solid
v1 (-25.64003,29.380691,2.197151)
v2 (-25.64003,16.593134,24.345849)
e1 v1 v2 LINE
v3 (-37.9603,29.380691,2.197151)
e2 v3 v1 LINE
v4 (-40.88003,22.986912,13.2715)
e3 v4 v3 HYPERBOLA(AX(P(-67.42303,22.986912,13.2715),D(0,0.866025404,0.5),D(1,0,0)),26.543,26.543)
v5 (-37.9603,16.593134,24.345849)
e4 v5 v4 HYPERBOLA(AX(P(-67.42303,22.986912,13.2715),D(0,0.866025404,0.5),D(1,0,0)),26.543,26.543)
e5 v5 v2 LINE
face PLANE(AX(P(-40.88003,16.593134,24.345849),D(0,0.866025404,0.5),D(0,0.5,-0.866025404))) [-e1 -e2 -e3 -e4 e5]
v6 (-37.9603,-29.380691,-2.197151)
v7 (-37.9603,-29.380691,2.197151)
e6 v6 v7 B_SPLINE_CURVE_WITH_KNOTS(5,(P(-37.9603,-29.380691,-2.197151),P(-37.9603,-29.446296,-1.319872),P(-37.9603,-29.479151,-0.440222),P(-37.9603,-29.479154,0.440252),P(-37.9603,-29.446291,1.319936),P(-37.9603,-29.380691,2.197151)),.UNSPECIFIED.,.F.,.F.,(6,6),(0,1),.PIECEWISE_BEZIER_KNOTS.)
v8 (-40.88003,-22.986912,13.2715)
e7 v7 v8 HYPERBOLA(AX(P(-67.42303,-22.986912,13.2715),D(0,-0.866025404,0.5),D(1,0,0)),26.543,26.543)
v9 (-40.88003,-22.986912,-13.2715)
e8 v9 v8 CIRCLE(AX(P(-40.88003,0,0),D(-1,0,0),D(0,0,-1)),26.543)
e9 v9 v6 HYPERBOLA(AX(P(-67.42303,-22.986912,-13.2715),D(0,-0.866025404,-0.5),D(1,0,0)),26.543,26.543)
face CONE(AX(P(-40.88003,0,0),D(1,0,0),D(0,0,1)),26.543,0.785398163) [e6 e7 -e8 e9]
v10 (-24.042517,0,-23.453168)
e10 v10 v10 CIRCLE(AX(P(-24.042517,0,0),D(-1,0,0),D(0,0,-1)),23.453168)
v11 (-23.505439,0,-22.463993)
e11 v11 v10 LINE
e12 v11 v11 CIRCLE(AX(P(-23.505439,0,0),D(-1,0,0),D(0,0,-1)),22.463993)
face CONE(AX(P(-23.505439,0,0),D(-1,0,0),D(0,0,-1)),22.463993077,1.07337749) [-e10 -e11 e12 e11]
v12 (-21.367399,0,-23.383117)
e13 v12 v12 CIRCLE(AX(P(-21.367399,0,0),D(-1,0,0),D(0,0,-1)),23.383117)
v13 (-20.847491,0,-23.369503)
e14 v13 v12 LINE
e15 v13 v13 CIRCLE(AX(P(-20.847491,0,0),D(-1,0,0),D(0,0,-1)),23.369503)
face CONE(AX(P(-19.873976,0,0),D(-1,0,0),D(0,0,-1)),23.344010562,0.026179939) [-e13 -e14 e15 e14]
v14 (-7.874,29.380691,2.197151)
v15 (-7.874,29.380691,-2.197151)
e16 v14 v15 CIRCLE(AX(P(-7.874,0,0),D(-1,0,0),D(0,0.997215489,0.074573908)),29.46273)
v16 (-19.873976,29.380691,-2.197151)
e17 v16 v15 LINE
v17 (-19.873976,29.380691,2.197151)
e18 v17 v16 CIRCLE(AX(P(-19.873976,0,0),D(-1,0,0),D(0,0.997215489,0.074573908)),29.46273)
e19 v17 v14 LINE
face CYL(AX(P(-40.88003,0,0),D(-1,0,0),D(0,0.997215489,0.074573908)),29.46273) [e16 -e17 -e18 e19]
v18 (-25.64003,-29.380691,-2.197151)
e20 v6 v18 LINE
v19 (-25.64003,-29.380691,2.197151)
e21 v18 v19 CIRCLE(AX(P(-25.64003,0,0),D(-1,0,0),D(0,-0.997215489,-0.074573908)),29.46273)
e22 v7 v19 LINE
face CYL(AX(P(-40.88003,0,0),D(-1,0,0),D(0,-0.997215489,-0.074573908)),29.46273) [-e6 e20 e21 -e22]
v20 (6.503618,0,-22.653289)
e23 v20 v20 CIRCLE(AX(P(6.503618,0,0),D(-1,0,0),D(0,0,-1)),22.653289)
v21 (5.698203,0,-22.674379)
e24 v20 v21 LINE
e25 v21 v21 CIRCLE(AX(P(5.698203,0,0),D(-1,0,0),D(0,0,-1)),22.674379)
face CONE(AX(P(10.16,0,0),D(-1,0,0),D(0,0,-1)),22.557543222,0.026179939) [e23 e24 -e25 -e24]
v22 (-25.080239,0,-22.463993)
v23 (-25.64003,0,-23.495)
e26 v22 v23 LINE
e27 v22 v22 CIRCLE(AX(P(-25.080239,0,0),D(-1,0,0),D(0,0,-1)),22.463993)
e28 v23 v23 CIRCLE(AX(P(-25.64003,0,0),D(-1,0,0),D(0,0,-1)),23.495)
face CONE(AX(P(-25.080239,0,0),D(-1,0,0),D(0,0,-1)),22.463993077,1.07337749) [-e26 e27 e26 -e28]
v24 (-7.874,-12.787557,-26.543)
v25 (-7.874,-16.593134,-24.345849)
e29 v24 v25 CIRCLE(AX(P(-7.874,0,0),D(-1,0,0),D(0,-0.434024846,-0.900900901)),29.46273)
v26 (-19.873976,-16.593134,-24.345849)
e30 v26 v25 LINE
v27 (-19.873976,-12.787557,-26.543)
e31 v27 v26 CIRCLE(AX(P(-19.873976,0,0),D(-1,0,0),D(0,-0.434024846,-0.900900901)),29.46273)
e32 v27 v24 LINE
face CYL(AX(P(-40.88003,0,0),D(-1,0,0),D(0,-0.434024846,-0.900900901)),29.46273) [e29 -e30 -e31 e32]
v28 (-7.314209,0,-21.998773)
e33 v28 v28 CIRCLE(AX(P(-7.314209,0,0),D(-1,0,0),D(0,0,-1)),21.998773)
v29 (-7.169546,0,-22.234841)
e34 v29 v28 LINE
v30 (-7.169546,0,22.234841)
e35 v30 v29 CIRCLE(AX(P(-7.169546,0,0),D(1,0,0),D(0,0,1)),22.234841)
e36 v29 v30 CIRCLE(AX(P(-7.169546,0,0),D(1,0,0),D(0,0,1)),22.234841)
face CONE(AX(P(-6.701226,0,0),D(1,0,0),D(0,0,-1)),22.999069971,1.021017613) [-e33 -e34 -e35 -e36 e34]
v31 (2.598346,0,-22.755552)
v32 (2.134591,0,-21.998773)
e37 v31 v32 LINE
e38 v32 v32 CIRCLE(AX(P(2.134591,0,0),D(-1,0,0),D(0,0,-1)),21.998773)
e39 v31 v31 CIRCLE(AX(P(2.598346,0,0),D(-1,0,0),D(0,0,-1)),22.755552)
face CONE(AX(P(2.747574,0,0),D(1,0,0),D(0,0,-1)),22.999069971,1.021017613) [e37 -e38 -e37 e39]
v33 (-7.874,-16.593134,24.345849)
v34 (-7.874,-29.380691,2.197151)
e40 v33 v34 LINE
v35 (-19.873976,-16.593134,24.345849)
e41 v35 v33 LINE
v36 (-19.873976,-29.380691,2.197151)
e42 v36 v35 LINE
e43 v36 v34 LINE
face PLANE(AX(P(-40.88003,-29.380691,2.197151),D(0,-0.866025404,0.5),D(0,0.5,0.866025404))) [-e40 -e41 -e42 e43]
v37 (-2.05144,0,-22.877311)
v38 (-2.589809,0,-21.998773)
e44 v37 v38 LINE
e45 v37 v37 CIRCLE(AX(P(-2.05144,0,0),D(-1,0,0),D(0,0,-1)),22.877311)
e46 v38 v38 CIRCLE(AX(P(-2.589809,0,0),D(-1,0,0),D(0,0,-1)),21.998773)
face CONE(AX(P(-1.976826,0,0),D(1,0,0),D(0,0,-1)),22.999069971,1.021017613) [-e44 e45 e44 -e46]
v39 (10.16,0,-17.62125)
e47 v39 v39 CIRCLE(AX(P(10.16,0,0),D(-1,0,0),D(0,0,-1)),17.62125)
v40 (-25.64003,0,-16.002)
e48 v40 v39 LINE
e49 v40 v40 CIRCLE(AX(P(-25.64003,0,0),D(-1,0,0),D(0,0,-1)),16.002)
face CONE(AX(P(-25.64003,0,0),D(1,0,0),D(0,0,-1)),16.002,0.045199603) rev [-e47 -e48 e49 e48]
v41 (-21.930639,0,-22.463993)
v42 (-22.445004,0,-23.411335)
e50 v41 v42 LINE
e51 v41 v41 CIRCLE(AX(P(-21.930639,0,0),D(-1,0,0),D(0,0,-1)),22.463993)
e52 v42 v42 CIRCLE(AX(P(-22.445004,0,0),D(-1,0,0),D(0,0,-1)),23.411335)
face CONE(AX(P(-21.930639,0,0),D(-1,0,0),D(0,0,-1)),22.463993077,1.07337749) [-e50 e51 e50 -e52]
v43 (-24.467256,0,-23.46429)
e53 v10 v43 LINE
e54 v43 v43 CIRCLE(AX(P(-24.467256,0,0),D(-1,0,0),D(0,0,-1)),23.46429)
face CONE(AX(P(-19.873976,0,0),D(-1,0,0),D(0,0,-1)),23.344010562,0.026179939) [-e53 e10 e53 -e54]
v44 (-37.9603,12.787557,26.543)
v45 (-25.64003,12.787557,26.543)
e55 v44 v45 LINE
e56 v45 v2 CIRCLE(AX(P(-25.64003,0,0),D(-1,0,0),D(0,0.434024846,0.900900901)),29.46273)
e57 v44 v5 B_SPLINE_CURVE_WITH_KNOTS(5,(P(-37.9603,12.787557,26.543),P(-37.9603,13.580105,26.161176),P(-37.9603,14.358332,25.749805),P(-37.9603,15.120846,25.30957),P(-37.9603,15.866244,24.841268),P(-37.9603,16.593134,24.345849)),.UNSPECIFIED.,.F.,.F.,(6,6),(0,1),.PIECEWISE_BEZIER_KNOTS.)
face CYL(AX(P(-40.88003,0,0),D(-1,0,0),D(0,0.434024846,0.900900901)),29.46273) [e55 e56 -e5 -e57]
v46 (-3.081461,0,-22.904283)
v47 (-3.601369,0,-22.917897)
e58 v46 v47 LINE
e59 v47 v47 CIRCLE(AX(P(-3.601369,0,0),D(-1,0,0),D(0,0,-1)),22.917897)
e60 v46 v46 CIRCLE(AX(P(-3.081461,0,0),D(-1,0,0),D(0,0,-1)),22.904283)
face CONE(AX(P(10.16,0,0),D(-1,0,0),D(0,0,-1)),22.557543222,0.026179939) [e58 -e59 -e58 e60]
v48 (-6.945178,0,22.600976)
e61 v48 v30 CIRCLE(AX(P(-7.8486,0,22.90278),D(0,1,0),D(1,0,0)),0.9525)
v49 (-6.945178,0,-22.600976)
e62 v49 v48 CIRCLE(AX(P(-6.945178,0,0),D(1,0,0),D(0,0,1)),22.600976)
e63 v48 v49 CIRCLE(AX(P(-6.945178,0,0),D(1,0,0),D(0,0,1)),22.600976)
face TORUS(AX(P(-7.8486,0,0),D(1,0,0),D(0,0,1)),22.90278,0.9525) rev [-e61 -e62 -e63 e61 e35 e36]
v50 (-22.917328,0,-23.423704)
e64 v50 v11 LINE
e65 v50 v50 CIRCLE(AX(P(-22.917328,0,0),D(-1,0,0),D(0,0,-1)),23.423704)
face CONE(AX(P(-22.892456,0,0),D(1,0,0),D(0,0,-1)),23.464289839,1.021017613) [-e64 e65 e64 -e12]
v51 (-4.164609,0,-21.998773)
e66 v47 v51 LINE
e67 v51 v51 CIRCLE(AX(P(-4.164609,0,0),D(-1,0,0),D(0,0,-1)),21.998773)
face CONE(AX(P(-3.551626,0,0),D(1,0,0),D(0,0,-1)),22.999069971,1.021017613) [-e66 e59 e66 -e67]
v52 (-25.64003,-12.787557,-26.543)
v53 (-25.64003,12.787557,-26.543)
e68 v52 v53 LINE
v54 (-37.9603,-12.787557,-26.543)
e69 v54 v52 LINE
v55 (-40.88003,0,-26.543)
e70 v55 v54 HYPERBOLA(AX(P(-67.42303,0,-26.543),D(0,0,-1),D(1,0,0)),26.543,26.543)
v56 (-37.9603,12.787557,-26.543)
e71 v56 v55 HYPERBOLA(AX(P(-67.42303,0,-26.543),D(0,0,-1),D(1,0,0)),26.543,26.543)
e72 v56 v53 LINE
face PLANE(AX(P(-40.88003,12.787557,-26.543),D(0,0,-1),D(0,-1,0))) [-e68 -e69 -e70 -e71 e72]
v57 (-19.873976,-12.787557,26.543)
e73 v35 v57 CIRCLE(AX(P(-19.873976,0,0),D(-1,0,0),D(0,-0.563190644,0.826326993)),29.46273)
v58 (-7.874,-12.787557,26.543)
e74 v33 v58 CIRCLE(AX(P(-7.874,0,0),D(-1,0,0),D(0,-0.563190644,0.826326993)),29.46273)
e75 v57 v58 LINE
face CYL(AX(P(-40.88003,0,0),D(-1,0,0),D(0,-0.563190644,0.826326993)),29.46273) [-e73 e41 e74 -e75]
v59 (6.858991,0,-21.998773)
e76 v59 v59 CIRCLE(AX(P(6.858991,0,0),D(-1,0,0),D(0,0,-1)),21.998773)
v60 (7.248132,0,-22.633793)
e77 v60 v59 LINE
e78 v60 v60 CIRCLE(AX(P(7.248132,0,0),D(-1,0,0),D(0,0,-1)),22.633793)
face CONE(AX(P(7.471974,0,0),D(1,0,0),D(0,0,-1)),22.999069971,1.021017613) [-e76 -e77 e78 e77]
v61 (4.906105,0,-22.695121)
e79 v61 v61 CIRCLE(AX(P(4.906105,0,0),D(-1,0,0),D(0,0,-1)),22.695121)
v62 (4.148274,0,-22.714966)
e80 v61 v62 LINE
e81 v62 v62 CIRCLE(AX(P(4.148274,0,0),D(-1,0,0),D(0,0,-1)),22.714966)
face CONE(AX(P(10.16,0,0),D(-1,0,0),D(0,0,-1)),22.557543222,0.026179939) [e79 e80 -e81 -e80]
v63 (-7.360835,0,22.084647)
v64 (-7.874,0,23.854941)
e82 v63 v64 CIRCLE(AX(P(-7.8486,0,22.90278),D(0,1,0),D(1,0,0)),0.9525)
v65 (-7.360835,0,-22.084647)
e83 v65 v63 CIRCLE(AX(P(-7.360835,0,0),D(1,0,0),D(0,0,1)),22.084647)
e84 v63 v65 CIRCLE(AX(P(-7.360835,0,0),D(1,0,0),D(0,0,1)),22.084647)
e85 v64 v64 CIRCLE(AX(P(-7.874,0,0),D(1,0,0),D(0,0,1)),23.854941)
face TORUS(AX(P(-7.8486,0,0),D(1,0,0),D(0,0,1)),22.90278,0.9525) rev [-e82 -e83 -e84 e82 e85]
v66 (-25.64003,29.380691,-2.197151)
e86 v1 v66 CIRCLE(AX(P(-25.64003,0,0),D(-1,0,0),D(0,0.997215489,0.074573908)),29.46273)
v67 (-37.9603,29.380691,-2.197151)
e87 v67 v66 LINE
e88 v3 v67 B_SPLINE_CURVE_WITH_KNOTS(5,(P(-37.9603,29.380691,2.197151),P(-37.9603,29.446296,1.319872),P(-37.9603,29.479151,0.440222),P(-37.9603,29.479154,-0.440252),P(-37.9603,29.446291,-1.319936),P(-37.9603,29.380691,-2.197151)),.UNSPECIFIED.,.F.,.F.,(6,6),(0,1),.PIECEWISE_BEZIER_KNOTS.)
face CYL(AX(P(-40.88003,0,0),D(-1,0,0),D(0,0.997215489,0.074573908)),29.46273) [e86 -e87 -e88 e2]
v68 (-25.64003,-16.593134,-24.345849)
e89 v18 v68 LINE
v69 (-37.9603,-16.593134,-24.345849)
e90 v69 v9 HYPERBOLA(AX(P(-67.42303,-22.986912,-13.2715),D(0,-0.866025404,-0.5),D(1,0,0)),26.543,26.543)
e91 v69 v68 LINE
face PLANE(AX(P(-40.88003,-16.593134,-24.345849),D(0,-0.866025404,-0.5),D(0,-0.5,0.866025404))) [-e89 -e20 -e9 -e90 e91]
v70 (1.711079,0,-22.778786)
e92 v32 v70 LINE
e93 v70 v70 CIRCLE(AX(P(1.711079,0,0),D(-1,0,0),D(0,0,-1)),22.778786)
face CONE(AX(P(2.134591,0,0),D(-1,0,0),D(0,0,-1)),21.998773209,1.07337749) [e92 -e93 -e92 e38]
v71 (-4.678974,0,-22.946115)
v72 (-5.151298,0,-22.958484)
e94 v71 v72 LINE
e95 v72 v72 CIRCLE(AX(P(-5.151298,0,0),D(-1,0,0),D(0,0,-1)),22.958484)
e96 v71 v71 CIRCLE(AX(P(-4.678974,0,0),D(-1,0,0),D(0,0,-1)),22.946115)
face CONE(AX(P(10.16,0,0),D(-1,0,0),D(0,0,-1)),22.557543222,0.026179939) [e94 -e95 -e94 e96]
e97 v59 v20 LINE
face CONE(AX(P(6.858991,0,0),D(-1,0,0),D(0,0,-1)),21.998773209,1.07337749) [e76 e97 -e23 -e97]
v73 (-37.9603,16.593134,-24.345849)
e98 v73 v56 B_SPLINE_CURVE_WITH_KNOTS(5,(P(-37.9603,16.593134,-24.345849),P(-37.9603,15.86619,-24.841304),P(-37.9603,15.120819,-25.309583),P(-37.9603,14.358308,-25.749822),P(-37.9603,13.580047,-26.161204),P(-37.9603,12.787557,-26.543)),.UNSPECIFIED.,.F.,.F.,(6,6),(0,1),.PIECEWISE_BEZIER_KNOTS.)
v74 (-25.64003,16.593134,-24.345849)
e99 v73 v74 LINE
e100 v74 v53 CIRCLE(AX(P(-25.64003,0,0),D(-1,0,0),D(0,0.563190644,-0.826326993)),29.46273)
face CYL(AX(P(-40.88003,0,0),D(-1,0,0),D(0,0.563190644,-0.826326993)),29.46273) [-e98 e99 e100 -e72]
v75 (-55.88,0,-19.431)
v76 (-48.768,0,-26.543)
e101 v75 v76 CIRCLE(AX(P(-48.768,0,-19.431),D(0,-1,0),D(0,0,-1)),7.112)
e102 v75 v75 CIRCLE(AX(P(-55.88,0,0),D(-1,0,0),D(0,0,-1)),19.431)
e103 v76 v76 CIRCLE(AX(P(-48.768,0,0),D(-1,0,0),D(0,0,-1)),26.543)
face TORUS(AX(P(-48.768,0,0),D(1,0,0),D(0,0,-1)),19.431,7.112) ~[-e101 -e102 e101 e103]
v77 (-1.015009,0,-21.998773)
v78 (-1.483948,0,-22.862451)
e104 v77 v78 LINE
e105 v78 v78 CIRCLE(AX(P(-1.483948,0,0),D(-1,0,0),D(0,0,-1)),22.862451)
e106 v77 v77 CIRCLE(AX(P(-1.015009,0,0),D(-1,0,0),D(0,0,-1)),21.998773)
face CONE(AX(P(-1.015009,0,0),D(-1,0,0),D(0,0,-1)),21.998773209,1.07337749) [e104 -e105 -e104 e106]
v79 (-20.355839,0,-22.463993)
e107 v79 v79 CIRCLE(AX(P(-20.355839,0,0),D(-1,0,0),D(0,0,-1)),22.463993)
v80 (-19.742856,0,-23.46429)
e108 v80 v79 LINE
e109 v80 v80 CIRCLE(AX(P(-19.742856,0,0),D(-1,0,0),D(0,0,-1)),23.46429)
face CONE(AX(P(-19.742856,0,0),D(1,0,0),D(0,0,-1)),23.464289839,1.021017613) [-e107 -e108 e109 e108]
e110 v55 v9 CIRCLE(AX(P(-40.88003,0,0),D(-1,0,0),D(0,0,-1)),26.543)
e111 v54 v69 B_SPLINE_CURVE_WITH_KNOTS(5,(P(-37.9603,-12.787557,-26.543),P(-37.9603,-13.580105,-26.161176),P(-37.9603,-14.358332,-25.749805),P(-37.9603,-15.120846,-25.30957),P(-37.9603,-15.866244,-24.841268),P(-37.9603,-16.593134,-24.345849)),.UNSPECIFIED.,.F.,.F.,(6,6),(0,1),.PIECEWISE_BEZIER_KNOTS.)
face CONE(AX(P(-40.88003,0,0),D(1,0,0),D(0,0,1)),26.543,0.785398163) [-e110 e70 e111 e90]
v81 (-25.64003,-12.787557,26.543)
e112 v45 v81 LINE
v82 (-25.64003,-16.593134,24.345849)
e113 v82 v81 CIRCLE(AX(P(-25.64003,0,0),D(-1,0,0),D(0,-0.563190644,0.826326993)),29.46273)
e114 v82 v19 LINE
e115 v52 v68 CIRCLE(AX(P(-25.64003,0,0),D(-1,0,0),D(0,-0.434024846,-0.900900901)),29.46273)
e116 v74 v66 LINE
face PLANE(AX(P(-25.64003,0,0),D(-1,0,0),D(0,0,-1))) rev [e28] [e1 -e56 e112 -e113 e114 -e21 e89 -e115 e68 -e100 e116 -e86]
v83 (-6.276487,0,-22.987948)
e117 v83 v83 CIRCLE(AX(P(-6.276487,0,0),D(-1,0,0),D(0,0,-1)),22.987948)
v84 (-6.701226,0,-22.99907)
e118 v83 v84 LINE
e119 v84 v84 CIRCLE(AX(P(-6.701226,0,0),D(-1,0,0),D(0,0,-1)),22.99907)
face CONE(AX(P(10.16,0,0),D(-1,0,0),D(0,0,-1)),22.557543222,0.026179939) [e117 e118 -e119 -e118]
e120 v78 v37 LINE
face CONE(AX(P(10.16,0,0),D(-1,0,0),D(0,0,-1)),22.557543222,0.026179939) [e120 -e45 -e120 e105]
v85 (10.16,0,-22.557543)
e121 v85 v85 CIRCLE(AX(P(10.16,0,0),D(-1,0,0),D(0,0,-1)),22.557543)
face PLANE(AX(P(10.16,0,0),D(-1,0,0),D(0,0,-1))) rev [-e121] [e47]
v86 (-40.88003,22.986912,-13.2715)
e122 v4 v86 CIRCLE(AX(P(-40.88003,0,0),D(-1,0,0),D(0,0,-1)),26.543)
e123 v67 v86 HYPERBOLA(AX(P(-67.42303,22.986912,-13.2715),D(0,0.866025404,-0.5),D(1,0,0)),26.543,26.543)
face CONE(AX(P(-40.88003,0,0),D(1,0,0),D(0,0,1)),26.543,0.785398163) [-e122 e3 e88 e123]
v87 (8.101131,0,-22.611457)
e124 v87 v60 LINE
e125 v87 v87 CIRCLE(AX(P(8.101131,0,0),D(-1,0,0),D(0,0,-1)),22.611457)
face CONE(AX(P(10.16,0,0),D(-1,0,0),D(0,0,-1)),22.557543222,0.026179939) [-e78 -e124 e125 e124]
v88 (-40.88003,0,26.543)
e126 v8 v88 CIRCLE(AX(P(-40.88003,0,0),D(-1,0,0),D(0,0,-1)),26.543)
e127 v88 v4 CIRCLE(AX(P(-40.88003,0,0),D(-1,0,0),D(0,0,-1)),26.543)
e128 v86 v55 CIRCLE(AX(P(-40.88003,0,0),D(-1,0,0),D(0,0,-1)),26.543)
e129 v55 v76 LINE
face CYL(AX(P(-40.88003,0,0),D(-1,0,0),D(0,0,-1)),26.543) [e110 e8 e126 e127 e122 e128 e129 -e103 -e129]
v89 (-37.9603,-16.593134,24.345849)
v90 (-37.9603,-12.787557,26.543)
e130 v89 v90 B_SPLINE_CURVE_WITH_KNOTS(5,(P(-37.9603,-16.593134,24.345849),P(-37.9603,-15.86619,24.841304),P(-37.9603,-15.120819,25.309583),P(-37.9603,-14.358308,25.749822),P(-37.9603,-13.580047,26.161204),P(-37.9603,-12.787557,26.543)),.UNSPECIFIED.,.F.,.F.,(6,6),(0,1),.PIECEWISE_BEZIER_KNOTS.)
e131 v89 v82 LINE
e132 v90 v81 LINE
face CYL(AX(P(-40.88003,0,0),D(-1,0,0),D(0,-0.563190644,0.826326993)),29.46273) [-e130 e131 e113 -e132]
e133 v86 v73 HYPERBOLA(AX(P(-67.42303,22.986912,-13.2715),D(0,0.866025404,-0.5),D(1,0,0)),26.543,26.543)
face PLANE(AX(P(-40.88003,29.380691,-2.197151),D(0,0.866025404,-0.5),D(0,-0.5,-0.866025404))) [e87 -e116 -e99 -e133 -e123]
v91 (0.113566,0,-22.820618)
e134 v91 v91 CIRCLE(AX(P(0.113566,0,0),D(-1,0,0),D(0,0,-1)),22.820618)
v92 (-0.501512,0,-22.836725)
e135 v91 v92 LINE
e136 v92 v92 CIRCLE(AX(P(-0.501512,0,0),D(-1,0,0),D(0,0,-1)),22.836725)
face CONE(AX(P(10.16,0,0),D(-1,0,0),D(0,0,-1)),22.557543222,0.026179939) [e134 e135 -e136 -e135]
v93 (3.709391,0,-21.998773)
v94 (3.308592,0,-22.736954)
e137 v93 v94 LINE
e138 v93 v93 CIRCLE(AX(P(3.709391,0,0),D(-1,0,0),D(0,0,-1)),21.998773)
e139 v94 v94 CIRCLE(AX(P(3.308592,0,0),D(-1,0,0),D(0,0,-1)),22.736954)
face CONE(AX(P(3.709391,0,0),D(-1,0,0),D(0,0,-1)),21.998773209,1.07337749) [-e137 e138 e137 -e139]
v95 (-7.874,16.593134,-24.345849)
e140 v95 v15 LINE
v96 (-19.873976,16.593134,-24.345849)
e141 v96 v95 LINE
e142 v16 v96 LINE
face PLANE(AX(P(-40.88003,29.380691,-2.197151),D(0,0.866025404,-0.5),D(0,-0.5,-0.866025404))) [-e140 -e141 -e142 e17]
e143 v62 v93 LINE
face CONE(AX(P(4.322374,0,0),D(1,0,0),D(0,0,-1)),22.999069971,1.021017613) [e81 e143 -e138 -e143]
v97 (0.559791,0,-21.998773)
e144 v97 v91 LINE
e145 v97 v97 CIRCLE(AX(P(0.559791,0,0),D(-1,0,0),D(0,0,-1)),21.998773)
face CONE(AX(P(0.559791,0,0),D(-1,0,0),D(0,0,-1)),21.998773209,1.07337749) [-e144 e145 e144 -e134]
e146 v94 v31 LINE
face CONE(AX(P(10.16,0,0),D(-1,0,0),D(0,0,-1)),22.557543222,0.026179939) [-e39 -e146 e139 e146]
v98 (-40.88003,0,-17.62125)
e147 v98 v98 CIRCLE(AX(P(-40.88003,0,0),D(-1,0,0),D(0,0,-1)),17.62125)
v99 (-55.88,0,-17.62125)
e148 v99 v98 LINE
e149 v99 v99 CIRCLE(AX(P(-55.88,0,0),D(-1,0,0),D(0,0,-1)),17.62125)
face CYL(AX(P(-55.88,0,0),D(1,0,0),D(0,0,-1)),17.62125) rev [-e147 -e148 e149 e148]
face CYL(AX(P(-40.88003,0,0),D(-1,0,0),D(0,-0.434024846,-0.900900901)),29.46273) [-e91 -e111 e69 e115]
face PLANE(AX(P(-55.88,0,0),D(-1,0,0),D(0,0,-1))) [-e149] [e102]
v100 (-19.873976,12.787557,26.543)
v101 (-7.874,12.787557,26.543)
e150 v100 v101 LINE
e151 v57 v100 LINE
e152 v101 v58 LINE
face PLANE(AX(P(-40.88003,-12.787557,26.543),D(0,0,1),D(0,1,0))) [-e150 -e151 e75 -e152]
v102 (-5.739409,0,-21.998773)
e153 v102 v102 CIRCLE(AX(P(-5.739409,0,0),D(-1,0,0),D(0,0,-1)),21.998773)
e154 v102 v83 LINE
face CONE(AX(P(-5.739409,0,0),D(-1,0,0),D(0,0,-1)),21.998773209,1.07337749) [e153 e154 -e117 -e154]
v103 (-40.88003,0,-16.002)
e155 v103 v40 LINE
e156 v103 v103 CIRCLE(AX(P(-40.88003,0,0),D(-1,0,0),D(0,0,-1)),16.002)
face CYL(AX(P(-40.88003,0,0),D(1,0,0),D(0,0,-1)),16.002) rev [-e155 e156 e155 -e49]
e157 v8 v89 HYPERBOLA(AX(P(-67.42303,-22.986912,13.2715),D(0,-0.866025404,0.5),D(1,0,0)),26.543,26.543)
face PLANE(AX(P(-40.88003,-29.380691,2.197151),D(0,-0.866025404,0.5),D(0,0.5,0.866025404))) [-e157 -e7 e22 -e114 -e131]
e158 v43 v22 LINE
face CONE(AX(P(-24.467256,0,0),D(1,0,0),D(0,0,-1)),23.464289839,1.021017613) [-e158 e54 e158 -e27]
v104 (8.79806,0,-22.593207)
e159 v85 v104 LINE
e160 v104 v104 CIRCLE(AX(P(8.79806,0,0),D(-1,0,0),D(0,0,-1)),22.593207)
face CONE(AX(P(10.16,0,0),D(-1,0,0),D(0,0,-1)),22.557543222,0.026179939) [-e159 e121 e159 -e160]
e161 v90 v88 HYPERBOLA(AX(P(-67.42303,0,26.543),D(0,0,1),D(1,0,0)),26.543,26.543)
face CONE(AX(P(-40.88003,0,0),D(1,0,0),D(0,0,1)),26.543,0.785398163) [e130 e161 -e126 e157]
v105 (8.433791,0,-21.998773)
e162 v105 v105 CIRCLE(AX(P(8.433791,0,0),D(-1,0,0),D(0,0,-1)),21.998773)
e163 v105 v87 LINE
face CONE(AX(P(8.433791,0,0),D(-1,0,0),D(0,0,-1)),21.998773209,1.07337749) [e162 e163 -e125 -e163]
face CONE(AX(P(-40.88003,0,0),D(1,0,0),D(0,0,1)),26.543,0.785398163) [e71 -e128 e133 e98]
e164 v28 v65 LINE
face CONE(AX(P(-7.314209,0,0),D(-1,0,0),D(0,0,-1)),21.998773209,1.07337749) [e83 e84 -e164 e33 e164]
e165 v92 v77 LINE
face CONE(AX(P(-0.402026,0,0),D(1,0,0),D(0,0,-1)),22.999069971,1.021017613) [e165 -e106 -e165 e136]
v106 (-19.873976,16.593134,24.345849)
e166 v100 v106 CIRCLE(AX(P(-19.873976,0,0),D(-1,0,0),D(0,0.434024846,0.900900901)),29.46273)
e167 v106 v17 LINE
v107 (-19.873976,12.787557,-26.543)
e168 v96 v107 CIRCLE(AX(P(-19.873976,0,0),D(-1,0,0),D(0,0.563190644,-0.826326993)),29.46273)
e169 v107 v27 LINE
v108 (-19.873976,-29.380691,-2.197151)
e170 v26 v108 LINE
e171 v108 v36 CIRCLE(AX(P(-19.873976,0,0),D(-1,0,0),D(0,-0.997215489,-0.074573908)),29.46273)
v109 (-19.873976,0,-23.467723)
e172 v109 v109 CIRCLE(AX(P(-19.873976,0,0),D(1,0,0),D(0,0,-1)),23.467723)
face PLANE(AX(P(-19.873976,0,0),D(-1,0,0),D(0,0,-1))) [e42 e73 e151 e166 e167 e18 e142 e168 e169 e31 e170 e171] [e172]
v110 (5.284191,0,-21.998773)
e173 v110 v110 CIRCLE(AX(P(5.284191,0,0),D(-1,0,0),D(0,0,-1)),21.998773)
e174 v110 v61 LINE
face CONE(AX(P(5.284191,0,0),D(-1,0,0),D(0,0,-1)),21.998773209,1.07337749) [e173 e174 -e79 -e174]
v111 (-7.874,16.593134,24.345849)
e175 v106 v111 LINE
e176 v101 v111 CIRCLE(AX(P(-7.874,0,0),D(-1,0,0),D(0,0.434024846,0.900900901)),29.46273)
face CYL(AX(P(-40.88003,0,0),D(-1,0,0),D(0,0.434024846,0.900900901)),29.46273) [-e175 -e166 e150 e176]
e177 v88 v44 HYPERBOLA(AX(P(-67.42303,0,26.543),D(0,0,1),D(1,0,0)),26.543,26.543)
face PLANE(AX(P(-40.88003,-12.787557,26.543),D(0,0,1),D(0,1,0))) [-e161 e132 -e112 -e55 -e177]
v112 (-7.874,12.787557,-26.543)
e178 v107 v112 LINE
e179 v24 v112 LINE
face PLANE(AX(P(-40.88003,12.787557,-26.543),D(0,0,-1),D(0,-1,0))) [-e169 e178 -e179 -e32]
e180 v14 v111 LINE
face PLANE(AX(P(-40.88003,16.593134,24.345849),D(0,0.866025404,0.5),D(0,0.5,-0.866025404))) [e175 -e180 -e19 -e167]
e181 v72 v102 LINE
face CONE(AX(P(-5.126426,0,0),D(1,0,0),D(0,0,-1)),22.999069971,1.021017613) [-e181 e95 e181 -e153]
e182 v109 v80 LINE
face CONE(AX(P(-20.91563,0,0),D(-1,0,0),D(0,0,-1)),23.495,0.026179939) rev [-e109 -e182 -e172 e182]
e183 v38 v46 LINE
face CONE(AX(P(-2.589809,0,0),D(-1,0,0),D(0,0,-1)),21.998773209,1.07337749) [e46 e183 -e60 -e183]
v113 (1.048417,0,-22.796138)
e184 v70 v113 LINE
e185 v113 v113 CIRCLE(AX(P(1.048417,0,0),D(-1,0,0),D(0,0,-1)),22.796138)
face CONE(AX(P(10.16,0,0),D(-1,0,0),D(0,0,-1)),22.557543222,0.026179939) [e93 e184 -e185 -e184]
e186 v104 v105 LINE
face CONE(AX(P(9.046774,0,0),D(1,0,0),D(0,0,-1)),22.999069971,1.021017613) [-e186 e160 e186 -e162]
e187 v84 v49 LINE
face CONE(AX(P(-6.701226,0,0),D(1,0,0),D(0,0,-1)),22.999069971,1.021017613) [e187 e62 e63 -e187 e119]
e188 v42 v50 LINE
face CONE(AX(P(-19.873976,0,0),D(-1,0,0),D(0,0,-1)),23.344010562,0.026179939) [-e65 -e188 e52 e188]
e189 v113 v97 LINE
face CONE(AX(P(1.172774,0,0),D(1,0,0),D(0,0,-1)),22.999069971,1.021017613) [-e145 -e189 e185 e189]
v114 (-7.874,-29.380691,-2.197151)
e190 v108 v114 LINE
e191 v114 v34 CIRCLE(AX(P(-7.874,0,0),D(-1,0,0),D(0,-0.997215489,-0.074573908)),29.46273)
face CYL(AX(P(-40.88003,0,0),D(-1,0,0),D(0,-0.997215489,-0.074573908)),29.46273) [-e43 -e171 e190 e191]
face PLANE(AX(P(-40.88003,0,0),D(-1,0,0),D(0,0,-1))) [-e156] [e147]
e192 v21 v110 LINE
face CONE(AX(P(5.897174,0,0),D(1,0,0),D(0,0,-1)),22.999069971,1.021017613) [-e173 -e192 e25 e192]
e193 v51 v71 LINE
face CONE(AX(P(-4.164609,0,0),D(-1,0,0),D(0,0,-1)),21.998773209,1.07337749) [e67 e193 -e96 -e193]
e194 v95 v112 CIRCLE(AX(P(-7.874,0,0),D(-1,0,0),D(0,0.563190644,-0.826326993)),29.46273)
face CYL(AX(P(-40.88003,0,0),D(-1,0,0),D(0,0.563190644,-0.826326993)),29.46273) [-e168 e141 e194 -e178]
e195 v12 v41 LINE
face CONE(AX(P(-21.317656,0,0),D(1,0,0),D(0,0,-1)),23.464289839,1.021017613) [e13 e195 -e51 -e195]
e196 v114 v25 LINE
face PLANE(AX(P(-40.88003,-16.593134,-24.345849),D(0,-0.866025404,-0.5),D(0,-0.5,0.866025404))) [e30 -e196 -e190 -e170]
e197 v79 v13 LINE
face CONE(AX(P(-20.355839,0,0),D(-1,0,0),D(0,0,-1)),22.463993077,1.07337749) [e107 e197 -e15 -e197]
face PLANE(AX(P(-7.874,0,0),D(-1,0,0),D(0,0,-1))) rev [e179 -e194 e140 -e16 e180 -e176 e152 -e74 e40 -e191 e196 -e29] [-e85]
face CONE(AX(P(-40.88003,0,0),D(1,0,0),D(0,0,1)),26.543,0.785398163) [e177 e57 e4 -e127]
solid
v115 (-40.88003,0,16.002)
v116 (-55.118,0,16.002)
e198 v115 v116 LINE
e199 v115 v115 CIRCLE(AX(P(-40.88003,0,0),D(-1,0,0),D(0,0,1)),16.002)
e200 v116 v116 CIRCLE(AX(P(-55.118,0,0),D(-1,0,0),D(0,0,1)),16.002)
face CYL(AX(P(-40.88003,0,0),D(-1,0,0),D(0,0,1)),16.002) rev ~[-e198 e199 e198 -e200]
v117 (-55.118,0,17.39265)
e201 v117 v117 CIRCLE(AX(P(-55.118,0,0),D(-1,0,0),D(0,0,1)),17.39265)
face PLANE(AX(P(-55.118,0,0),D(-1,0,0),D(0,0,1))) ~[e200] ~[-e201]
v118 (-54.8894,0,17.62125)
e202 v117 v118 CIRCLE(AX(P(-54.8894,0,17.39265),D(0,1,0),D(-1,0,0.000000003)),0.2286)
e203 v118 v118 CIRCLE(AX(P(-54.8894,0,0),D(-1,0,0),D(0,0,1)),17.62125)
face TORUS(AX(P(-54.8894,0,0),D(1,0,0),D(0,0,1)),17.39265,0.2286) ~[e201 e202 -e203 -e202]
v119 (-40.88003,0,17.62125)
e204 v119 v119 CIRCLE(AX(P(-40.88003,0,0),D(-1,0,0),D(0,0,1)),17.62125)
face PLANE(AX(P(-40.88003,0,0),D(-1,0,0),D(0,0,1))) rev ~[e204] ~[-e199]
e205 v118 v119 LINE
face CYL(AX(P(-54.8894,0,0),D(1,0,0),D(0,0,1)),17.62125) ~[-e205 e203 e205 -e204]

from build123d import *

# Parameters (mm, degrees)
LPATTERN6_COUNT    = 4
LPATTERN6_PITCH    = 1.5748
LPATTERN7_COUNT    = 11
LPATTERN7_PITCH    = 1.5748
SKETCH12_OUTSIDE_W = 140.978
SKETCH12_OUTSIDE_H = 140.978
CUT_EXTRUDE2_DEPTH = 52.04003
FILLET4_R          = 7.112
SKETCH19_OUTSIDE_W = 83.724
SKETCH19_OUTSIDE_H = 89.564
SKETCH19_OUTSIDE_R = 26.543
CUT_EXTRUDE3_DEPTH = 3.99796
CUT_EXTRUDE3_DRAFT = -45
SKETCH28_R         = 0.9525


with BuildPart() as part:
    # Sketch10 → Revolve2 (revolve)
    with BuildSketch(Plane.XY, mode=Mode.PRIVATE) as revolve2_sk:
        Polygon((-40.88003, 16.002), (-25.64003, 16.002), (10.16, 17.62125), (10.16, 22.557543222), (-7.874, 23.029780132), (-7.874, 53.086), (-19.873976, 53.086), (-19.873976, 23.344010562), (-25.64003, 23.495), (-25.64003, 53.086), (-40.88003, 53.086), (-40.88003, 26.543), (-55.88, 26.543), (-55.88, 17.62125), (-40.88003, 17.62125), align=None)
    revolve(revolve2_sk.sketch.rotate(Axis((0, 0, 0), (-1, 0, 0)), 90), axis=Axis((0, 0, 0), (-1, 0, 0)))  # turned: the seam where the file's is

    # Sketch26 → Cut-Revolve1 (revolve, cut)
    with BuildSketch(Plane.XY, mode=Mode.PRIVATE) as cut_revolve1_sk:
        Polygon((-25.64003, 23.495), (-24.467256271, 23.464289839), (-25.080238915, 22.463993077), align=None)
    cut_revolve1 = revolve(cut_revolve1_sk.sketch.rotate(Axis((0, 0, 0), (-1, 0, 0)), 90), axis=Axis((0, 0, 0), (-1, 0, 0)), mode=Mode.SUBTRACT)  # turned: the seam where the file's is

    # LPattern6: Cut-Revolve1 ×4
    with Locations(*[(i * LPATTERN6_PITCH, 0, 0) for i in range(1, LPATTERN6_COUNT)]):
        add(cut_revolve1, mode=Mode.SUBTRACT)

    # Sketch27 → Cut-Revolve2 (revolve, cut)
    with BuildSketch(Plane.XY, mode=Mode.PRIVATE) as cut_revolve2_sk:
        Polygon((-7.874, 23.029780132), (-6.701226271, 22.999069971), (-7.314208915, 21.998773209), align=None)
    cut_revolve2 = revolve(cut_revolve2_sk.sketch.rotate(Axis((0, 0, 0), (-1, 0, 0)), 90), axis=Axis((0, 0, 0), (-1, 0, 0)), mode=Mode.SUBTRACT)  # turned: the seam where the file's is

    # LPattern7: Cut-Revolve2 ×11
    with Locations(*[(i * LPATTERN7_PITCH, 0, 0) for i in range(1, LPATTERN7_COUNT)]):
        add(cut_revolve2, mode=Mode.SUBTRACT)

    # Sketch12 outside → Cut-Extrude2 (cut, through all)
    with BuildSketch(Plane.ZY.offset(40.88003)):
        Rectangle(SKETCH12_OUTSIDE_W, SKETCH12_OUTSIDE_H)
        with BuildLine():
            Line((-2.19715092, 29.380690715), (-24.34584908, 16.59313387))
            ThreePointArc((-24.34584908, 16.59313387), (-25.515472645, 14.731365), (-26.543, 12.787556845))
            Line((-26.543, 12.787556845), (-26.543, -12.787556845))
            ThreePointArc((-26.543, -12.787556845), (-25.515472645, -14.731365), (-24.34584908, -16.59313387))
            Line((-24.34584908, -16.59313387), (-2.19715092, -29.380690715))
            ThreePointArc((-2.19715092, -29.380690715), (0, -29.46273), (2.19715092, -29.380690715))
            Line((2.19715092, -29.380690715), (24.34584908, -16.59313387))
            ThreePointArc((24.34584908, -16.59313387), (25.515472645, -14.731365), (26.543, -12.787556845))
            Line((26.543, -12.787556845), (26.543, 12.787556845))
            ThreePointArc((26.543, 12.787556845), (25.515472645, 14.731365), (24.34584908, 16.59313387))
            Line((24.34584908, 16.59313387), (2.19715092, 29.380690715))
            ThreePointArc((2.19715092, 29.380690715), (0, 29.46273), (-2.19715092, 29.380690715))
        make_face(mode=Mode.SUBTRACT)
    extrude(amount=-CUT_EXTRUDE2_DEPTH, mode=Mode.SUBTRACT)

    # Fillet4
    fillet4_edges = [part.edges().sort_by_distance(p)[0] for p in [
        (-55.88, 0, 26.543),
    ]]
    fillet(fillet4_edges, radius=FILLET4_R)


with BuildPart() as body_2:
    # Sketch23 → Revolve6 (revolve)
    with BuildSketch(Plane.XY, mode=Mode.PRIVATE) as revolve6_sk:
        with BuildLine():
            Line((-54.8894, 17.62125), (-40.88003, 17.62125))
            Line((-40.88003, 17.62125), (-40.88003, 16.002))
            Line((-40.88003, 16.002), (-55.118, 16.002))
            Line((-55.118, 16.002), (-55.118, 17.39265))
            ThreePointArc((-55.118, 17.39265), (-55.05104461, 17.55429461), (-54.8894, 17.62125))
        make_face()
    revolve(revolve6_sk.sketch.rotate(Axis((0, 0, 0), (-1, 0, 0)), 270), axis=Axis((0, 0, 0), (-1, 0, 0)))  # turned: the seam where the file's is


with BuildPart() as cut_extrude3_tool:
    # Sketch19 outside → Cut-Extrude3 (with draft: the straight prism first)
    with BuildSketch(Plane.ZY.offset(40.88003)):
        Rectangle(SKETCH19_OUTSIDE_W, SKETCH19_OUTSIDE_H)
        Circle(SKETCH19_OUTSIDE_R, mode=Mode.SUBTRACT)
    extrude(amount=-CUT_EXTRUDE3_DEPTH)
    # Cut-Extrude3: the draft: its side faces are tilted about the plane it starts from
    cut_extrude3_sides = [cut_extrude3_tool.faces().sort_by_distance(p)[0] for p in [
        (-38.88105, -44.782, 0),
        (-38.88105, 0, 41.862),
        (-38.88105, 44.782, 0),
        (-38.88105, 0, -41.862),
        (-38.88105, 0, -26.543),
    ]]
    draft(cut_extrude3_sides, Plane.ZY.offset(40.88003), CUT_EXTRUDE3_DRAFT)


with BuildPart() as part_1:
    add(part.part)

    # Cut-Extrude3: cut by cut_extrude3_tool
    add(cut_extrude3_tool.part, mode=Mode.SUBTRACT)

    # Sketch28 → Cut-Revolve3 (revolve, cut)
    with BuildSketch(Plane.XY, mode=Mode.PRIVATE) as cut_revolve3_sk:
        with Locations((-7.8486, -22.902780132)):
            Circle(SKETCH28_R)
    revolve(cut_revolve3_sk.sketch.rotate(Axis((10.16, 0, 0), (-1, 0, 0)), 90), axis=Axis((10.16, 0, 0), (-1, 0, 0)), mode=Mode.SUBTRACT)  # turned: the seam where the file's is


solid = Compound([body_2.part, part_1.part])
